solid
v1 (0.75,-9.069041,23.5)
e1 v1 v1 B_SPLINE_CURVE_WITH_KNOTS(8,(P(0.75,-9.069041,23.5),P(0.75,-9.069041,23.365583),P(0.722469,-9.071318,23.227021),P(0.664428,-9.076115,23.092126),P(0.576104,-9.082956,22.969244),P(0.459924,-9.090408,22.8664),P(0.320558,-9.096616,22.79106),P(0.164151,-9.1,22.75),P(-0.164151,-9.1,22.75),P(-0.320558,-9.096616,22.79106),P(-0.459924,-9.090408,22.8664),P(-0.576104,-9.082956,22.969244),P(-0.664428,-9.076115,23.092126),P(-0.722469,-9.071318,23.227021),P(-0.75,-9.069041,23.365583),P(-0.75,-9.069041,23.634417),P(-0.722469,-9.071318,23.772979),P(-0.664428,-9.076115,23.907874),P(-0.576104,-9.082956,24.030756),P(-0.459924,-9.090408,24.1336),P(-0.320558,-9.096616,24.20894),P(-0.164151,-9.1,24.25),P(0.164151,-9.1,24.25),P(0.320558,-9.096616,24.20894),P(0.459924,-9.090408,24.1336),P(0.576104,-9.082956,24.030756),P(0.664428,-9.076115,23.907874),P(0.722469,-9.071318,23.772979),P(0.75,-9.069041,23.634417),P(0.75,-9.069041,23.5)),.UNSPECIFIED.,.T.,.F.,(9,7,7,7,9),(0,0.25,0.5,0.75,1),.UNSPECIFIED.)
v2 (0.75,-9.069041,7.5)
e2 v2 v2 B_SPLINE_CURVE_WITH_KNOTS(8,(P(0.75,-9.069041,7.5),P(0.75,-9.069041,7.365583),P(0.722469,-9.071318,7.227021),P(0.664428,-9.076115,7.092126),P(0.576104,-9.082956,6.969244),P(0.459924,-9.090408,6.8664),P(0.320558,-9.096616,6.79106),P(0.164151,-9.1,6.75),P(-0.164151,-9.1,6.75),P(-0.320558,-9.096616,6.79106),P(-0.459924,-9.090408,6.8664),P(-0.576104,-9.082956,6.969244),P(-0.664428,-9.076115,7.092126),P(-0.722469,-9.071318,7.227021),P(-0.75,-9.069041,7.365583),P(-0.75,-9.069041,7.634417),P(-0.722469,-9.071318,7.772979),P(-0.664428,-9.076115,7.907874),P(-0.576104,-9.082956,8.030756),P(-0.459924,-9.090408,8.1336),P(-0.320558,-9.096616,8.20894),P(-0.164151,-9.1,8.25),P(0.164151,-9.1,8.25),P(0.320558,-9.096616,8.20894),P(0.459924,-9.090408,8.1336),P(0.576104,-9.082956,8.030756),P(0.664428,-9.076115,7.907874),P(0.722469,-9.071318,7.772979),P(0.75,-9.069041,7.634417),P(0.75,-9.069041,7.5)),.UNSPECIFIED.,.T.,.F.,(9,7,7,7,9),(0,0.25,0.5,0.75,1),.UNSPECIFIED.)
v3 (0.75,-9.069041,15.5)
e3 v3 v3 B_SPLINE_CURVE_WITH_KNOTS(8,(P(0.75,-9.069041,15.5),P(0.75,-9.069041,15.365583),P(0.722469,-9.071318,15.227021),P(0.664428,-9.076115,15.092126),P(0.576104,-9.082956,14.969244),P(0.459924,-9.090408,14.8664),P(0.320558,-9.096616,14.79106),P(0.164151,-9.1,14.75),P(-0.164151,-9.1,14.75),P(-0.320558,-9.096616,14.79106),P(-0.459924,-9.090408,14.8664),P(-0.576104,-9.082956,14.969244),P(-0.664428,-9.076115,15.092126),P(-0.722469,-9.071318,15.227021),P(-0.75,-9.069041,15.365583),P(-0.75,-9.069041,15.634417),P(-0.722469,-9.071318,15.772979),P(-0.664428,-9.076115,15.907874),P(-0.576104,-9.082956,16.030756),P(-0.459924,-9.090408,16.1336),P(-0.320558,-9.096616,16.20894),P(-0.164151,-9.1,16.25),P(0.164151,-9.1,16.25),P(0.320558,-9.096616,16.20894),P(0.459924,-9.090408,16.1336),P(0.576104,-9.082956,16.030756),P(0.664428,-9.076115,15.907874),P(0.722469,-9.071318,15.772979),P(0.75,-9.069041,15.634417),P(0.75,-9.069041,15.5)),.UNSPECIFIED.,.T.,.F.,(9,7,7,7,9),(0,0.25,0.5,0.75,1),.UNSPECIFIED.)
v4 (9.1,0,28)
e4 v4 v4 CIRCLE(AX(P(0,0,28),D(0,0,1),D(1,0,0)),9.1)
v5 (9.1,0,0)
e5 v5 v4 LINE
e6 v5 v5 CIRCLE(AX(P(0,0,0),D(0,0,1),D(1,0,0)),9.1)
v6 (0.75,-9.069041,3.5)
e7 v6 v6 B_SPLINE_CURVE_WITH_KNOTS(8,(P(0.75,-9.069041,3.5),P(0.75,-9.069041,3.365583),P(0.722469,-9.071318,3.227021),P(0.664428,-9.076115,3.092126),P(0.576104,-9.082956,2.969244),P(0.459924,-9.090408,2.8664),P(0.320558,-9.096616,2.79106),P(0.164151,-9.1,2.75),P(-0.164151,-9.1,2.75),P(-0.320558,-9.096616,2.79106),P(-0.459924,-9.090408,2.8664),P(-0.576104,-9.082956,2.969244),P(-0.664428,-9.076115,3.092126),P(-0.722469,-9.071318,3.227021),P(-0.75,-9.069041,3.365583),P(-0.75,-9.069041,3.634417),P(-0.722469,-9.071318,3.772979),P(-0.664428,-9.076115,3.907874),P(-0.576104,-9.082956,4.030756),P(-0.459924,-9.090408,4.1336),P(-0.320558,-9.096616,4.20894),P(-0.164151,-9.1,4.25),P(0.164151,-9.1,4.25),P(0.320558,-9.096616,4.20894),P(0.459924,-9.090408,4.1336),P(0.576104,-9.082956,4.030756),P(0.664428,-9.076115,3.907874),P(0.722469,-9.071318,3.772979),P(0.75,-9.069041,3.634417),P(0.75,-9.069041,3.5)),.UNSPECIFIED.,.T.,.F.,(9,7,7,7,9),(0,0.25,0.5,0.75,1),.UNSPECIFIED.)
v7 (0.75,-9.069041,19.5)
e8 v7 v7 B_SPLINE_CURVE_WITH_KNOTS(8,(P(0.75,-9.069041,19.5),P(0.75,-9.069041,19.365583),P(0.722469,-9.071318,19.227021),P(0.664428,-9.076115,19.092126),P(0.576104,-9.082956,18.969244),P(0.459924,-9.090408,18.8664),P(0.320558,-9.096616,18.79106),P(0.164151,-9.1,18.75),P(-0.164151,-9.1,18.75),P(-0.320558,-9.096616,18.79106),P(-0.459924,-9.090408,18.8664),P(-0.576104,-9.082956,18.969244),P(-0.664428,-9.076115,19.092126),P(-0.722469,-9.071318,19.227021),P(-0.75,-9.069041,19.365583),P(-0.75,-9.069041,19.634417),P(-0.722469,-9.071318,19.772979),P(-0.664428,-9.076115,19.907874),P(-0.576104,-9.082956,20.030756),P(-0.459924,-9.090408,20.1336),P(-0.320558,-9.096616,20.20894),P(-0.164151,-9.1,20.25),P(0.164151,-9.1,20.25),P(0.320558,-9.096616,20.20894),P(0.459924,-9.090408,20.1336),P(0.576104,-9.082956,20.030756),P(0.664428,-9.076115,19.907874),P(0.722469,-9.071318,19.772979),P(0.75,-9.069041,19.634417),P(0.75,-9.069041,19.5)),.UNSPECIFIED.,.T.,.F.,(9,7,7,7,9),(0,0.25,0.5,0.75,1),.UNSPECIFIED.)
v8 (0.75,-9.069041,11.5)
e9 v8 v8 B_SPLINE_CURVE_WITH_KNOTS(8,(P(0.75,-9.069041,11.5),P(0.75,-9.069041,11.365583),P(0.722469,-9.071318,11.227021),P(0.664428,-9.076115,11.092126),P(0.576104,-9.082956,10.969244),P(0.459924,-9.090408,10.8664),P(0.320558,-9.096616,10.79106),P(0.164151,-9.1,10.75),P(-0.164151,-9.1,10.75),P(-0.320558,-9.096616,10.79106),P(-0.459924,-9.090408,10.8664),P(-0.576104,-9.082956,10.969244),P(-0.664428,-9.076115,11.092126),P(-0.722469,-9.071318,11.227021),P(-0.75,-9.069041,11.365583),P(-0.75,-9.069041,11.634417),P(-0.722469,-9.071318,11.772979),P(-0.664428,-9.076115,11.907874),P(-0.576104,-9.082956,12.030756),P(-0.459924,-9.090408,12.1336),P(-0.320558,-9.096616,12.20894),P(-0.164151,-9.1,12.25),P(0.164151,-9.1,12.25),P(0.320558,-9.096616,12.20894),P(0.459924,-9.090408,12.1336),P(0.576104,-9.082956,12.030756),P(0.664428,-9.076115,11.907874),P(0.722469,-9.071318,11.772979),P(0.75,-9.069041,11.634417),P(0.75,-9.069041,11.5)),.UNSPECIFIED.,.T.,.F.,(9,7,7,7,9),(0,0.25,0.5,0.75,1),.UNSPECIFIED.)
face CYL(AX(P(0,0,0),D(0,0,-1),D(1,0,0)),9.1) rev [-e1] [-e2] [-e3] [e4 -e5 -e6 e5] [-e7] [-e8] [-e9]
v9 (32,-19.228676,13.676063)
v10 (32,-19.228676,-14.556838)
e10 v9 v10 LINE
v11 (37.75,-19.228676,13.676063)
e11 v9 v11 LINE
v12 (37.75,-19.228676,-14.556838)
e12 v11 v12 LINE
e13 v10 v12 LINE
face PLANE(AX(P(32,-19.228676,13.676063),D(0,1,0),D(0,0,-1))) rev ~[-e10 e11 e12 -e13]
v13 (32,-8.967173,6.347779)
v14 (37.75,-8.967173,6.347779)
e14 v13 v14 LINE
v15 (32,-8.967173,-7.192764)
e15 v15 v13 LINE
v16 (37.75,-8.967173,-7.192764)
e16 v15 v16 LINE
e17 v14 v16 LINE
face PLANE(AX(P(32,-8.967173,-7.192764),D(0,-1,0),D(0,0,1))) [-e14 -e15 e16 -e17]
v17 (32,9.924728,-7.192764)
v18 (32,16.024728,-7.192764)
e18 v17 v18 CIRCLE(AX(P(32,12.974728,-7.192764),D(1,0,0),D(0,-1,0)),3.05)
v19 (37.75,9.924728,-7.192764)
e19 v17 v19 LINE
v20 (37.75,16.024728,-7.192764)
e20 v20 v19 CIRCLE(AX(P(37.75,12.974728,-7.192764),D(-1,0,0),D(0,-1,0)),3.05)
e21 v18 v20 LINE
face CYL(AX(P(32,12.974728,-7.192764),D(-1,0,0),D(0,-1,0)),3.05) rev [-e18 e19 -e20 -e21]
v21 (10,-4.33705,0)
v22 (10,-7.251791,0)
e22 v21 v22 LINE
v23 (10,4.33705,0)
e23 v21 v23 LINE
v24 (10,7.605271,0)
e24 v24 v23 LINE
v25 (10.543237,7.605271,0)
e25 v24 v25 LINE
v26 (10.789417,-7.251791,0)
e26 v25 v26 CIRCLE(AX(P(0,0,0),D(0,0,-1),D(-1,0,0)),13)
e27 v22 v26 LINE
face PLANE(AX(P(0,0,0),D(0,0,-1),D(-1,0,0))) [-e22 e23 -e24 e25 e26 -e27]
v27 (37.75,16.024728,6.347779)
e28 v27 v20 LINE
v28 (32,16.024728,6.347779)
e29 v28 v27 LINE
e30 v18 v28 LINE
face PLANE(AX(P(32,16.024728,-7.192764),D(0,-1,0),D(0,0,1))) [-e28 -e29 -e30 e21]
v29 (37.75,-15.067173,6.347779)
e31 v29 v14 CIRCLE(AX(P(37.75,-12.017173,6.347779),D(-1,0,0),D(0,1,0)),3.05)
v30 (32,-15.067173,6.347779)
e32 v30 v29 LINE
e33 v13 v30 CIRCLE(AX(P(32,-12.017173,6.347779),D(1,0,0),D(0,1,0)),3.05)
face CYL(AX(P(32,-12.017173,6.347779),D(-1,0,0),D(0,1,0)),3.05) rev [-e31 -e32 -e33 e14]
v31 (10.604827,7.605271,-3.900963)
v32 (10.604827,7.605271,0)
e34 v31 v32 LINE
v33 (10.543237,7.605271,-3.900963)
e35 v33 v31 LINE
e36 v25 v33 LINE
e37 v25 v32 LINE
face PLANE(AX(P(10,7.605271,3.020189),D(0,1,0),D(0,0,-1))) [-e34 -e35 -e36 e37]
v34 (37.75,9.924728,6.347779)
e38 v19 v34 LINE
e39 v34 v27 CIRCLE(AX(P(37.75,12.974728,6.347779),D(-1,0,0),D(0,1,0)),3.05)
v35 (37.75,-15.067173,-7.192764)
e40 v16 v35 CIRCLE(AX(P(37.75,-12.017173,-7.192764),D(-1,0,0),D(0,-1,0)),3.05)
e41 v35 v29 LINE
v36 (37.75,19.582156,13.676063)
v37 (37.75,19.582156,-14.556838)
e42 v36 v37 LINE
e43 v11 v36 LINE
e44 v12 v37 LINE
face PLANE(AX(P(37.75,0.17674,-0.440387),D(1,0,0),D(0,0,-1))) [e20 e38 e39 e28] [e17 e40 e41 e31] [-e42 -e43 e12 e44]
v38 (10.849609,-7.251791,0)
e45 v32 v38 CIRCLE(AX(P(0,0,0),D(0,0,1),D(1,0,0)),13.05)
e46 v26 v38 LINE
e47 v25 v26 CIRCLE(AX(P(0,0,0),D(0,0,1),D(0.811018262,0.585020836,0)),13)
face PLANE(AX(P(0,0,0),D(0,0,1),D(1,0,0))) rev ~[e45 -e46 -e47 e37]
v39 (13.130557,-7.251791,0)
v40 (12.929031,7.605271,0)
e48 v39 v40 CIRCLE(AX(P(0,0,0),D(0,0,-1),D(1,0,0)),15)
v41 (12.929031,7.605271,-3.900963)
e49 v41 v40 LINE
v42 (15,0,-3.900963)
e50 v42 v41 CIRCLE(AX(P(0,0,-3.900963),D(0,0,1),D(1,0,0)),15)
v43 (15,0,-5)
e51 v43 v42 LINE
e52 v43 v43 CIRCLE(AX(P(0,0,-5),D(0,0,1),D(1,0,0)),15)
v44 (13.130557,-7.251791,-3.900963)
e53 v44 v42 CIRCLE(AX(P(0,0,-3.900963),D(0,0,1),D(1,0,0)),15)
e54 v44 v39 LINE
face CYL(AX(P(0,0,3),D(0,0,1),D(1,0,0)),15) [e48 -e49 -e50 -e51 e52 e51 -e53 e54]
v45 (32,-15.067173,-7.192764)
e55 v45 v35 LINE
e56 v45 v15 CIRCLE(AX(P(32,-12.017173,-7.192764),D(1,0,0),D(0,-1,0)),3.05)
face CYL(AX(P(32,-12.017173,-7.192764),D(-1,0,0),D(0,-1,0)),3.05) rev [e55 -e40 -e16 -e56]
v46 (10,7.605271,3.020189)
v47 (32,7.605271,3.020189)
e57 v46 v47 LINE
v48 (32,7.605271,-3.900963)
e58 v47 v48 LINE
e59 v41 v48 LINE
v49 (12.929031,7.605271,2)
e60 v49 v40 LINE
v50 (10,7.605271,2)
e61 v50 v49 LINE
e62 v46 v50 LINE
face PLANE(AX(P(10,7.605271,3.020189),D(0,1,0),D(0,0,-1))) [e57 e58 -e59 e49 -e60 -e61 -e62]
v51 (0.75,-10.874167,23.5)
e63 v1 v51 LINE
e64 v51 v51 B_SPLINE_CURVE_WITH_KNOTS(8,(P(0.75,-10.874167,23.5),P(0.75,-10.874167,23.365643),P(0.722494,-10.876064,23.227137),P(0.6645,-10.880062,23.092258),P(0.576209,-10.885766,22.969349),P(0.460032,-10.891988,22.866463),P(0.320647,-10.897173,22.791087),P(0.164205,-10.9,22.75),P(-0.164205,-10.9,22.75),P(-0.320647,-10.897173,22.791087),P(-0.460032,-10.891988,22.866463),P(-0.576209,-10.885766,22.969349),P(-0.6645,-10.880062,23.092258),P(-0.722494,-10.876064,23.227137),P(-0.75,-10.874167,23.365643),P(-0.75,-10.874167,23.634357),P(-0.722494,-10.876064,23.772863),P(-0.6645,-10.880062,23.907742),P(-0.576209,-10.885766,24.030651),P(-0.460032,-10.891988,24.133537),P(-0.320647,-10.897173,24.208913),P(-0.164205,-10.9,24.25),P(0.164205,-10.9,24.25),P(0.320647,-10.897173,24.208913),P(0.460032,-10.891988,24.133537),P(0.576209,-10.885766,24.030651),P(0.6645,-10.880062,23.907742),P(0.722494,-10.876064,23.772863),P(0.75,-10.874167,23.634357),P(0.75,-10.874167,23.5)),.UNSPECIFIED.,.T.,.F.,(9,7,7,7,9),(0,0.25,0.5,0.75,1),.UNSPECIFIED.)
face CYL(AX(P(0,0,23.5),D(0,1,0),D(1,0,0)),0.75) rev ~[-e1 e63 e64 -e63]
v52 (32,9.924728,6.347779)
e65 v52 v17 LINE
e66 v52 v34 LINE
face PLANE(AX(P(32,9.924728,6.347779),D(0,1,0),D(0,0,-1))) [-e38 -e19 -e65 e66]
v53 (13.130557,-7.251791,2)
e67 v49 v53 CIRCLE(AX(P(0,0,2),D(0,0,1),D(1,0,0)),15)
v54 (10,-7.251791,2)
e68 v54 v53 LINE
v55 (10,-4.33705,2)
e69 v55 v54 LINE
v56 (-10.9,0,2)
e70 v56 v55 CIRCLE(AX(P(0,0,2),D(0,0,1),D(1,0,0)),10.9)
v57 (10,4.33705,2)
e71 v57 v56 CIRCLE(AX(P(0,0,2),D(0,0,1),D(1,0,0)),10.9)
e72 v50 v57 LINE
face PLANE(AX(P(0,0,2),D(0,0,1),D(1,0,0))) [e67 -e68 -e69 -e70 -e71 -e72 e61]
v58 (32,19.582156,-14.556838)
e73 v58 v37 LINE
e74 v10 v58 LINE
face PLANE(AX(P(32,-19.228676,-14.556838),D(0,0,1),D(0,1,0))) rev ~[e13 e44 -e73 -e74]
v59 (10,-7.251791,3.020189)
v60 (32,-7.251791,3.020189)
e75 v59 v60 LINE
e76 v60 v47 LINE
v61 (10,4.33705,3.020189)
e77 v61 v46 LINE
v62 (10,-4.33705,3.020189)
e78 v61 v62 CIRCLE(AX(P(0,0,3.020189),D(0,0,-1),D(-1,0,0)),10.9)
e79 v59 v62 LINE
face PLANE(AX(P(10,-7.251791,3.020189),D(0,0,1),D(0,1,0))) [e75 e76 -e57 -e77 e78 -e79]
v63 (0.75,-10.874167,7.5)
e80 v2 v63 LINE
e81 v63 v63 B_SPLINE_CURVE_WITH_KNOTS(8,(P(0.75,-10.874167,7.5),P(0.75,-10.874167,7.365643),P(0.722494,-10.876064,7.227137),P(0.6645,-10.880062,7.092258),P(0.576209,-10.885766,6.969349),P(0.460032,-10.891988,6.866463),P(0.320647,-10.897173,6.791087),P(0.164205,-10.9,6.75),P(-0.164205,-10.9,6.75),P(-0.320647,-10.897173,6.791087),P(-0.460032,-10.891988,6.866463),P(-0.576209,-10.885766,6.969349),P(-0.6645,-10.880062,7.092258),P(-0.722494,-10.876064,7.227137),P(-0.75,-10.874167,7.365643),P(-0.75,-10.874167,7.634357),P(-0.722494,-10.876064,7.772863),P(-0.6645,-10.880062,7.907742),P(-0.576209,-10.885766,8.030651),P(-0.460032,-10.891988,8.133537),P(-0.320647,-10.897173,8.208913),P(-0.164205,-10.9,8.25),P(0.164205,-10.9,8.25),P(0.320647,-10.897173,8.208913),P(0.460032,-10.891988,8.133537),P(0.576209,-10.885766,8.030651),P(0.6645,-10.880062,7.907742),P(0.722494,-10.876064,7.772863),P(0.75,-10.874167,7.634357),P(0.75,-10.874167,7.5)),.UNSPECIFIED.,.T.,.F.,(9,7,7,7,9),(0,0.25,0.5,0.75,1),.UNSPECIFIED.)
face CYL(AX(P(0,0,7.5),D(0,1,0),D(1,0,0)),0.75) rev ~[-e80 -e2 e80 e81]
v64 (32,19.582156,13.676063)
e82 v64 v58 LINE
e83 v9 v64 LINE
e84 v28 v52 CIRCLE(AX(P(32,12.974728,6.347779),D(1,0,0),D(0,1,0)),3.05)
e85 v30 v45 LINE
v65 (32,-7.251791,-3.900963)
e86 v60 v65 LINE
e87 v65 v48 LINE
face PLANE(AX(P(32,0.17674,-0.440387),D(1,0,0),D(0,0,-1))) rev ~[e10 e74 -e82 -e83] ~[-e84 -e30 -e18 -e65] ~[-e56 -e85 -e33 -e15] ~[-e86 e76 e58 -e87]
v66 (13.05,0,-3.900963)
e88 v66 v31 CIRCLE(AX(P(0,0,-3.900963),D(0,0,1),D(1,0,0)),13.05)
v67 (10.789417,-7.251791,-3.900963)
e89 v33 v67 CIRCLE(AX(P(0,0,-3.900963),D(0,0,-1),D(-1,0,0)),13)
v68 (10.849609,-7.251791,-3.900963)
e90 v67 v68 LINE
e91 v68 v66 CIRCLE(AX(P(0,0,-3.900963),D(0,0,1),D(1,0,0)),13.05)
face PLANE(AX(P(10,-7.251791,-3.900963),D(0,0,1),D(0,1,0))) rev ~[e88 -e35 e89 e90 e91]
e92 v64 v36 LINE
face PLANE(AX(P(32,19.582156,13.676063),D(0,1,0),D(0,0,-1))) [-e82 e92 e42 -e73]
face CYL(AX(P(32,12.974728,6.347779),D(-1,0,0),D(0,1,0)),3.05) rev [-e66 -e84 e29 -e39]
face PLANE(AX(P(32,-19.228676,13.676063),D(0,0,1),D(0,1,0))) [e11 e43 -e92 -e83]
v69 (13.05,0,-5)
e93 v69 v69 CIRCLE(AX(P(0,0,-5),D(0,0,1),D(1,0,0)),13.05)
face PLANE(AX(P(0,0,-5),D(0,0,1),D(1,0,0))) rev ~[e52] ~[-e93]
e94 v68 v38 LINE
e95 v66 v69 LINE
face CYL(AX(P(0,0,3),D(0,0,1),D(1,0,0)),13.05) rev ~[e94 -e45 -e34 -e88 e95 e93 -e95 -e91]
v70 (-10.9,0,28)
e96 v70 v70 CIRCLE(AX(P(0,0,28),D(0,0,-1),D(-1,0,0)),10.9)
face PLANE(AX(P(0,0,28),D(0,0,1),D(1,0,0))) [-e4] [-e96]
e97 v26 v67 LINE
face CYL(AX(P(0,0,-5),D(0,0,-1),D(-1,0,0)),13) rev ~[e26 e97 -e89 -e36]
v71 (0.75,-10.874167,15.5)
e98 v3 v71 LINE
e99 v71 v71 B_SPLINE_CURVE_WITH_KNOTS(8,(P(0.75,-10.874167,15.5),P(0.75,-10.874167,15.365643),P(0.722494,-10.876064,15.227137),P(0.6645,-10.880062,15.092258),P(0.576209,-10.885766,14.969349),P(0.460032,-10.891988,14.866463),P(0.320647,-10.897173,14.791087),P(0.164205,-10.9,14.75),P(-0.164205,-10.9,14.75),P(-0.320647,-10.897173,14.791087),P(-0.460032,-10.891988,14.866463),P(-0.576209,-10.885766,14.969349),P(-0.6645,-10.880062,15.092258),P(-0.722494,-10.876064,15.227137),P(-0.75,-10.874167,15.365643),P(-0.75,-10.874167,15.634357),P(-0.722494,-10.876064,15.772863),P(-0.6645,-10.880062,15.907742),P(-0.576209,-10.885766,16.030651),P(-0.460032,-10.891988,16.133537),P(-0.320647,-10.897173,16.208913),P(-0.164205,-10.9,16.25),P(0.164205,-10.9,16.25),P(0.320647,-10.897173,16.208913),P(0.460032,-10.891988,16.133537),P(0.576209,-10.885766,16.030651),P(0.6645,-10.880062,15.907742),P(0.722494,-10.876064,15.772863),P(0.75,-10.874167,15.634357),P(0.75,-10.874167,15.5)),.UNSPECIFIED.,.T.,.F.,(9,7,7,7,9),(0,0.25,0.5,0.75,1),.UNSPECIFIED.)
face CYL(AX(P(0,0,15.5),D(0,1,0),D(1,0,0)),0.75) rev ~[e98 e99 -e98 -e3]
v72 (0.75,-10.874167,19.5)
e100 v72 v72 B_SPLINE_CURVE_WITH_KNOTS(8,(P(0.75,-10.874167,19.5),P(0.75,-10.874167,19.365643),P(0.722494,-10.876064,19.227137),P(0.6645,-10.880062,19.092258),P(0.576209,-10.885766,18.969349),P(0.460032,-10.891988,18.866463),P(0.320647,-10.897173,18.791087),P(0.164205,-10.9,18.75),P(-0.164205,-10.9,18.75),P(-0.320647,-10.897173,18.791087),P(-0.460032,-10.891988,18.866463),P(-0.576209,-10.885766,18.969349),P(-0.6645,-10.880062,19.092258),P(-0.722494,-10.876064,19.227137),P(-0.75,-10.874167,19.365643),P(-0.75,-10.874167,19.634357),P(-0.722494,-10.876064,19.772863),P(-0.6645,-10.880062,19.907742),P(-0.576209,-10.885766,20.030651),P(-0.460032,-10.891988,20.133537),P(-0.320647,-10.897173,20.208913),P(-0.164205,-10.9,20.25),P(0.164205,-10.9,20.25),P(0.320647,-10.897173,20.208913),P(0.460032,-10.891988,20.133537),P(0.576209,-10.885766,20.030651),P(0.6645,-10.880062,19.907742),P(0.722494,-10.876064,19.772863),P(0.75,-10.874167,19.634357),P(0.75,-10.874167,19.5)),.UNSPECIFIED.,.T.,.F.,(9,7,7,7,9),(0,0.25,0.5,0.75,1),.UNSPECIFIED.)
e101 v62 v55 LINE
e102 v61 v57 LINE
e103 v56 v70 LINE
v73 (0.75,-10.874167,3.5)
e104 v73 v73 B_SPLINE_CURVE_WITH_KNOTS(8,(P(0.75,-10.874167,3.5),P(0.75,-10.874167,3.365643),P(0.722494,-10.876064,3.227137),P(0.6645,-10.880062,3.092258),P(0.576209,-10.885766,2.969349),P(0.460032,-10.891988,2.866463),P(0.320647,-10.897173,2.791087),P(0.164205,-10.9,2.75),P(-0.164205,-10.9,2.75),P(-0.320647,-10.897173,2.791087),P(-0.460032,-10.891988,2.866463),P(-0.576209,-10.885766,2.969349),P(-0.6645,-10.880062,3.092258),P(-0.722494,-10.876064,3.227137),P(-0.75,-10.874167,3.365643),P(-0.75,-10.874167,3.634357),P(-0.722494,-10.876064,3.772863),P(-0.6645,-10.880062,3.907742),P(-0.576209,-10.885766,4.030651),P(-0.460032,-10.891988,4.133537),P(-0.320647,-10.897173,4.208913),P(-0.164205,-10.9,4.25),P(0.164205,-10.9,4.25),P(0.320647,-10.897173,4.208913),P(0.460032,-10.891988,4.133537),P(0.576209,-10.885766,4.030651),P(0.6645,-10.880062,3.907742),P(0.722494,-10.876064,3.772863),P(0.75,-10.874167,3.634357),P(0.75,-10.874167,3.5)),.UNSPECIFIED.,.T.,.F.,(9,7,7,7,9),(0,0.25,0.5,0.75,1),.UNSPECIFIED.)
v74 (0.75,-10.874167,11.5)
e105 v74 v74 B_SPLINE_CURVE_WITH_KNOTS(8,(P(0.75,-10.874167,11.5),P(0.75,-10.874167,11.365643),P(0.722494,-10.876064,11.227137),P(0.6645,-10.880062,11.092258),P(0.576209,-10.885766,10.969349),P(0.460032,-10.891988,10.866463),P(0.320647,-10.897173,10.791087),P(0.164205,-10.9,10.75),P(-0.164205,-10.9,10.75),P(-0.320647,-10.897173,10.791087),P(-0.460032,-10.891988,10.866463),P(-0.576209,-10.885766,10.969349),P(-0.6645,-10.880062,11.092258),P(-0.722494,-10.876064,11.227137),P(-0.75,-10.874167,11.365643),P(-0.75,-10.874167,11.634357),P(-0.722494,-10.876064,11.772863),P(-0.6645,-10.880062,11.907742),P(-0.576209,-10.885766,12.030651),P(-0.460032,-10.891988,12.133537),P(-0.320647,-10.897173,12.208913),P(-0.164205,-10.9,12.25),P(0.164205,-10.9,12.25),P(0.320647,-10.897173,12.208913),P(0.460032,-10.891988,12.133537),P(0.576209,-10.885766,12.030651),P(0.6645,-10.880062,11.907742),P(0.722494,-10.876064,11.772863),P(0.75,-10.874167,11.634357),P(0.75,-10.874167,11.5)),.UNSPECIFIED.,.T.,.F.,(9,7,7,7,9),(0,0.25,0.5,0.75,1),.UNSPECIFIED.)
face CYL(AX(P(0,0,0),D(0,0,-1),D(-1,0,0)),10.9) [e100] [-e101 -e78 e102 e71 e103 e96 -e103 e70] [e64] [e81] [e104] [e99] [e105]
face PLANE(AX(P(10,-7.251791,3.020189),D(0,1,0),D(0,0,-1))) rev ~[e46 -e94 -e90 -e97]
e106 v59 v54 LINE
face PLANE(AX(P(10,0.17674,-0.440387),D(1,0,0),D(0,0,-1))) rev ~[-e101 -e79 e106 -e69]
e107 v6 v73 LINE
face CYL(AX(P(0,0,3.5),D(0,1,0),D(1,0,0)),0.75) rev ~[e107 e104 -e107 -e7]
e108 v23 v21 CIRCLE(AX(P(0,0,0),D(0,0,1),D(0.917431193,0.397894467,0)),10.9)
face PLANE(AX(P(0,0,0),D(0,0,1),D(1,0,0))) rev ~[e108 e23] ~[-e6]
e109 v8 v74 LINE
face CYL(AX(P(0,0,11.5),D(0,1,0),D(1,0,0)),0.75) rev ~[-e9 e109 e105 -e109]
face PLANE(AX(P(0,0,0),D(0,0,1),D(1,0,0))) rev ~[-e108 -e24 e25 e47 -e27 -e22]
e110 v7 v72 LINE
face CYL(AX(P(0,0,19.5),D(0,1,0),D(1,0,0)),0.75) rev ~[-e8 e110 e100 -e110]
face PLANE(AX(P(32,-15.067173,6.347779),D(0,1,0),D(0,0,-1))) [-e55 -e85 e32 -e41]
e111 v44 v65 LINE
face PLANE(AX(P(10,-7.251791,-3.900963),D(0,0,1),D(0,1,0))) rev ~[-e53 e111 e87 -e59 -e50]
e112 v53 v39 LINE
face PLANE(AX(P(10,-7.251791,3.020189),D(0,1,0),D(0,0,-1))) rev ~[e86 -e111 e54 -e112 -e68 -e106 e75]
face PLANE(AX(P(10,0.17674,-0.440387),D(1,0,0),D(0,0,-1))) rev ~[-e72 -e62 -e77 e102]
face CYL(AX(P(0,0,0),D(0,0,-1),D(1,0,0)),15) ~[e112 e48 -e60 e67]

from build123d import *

# Parameters (mm, degrees)
SKETCH2_R                = 15
SKETCH2_R_2              = 13.05
BOSS_EXTRUDE2_DEPTH      = 16
BOSS_EXTRUDE2_DEPTH_BACK = 8
SKETCH1_R                = 15
SKETCH1_R_2              = 9.1
BOSS_EXTRUDE3_DEPTH      = 28
SKETCH4_R                = 15
SKETCH4_R_2              = 10.9
CUT_EXTRUDE2_DEPTH       = 29
SKETCH5_W                = 6.921152332
SKETCH5_H                = 14.857061979
BOSS_EXTRUDE4_DEPTH      = 22
SKETCH3_R                = 0.75
CUT_EXTRUDE1_DEPTH       = 16
SKETCH6_R                = 15
SKETCH6_R_2              = 10.9
BOSS_EXTRUDE5_DEPTH      = 2
SKETCH7_W                = 28.232901182
SKETCH7_H                = 38.810832399
BOSS_EXTRUDE6_DEPTH      = 5.75
CUT_EXTRUDE3_DEPTH       = 8
SKETCH15_R               = 13
CUT_EXTRUDE6_DEPTH       = 5


with BuildPart() as part:
    # Sketch2 → Boss-Extrude2 (new body, two sides)
    with BuildSketch(Plane.XY.offset(3)) as boss_extrude2_sk:
        Circle(SKETCH2_R)
        Circle(SKETCH2_R_2, mode=Mode.SUBTRACT)
    extrude(amount=BOSS_EXTRUDE2_DEPTH)
    extrude(boss_extrude2_sk.sketch, amount=-BOSS_EXTRUDE2_DEPTH_BACK)

    # Sketch1 → Boss-Extrude3 (add)
    with BuildSketch(Plane.XY):
        Circle(SKETCH1_R)
        Circle(SKETCH1_R_2, mode=Mode.SUBTRACT)
    extrude(amount=BOSS_EXTRUDE3_DEPTH)

    # Sketch4 → Cut-Extrude2 (cut)
    with BuildSketch(Plane(origin=(0, 0, 0), x_dir=(-1, 0, 0), z_dir=(0, 0, -1))):
        Circle(SKETCH4_R)
        Circle(SKETCH4_R_2, mode=Mode.SUBTRACT)
    extrude(amount=-CUT_EXTRUDE2_DEPTH, mode=Mode.SUBTRACT)

    # Sketch5 → Boss-Extrude4 (add)
    with BuildSketch(Plane(origin=(10, 0, 0), x_dir=(0, 0, -1), z_dir=(1, 0, 0))):
        with Locations((0.440387125, 0.176739876)):
            Rectangle(SKETCH5_W, SKETCH5_H)
    extrude(amount=BOSS_EXTRUDE4_DEPTH)

    # Sketch3 → Cut-Extrude1 (cut, through all)
    with BuildSketch(Plane(origin=(0, 0, 0), x_dir=(1, 0, 0), z_dir=(0, 1, 0))):
        with Locations((0, -3.5)):
            Circle(SKETCH3_R)
        with Locations((0, -7.5)):
            Circle(SKETCH3_R)
        with Locations((0, -11.5)):
            Circle(SKETCH3_R)
        with Locations((0, -15.5)):
            Circle(SKETCH3_R)
        with Locations((0, -19.5)):
            Circle(SKETCH3_R)
        with Locations((0, -23.5)):
            Circle(SKETCH3_R)
    extrude(amount=-CUT_EXTRUDE1_DEPTH, mode=Mode.SUBTRACT)

    # Sketch6 → Boss-Extrude5 (add)
    with BuildSketch(Plane.XY):
        Circle(SKETCH6_R)
        Circle(SKETCH6_R_2, mode=Mode.SUBTRACT)
    extrude(amount=BOSS_EXTRUDE5_DEPTH)

    # Sketch7 → Boss-Extrude6 (add)
    with BuildSketch(Plane(origin=(32, 0, 0), x_dir=(0, 0, -1), z_dir=(1, 0, 0))):
        with Locations((0.440387125, 0.176739875)):
            Rectangle(SKETCH7_W, SKETCH7_H)
    extrude(amount=BOSS_EXTRUDE6_DEPTH)

    # Sketch9 → Cut-Extrude3 (cut)
    with BuildSketch(Plane.ZY.offset(-32)):
        with BuildLine():
            Line((-7.192763814, 16.024728338), (6.347778577, 16.024728338))
            ThreePointArc((6.347778577, 16.024728338), (9.397778577, 12.974728338), (6.347778577, 9.924728338))
            Line((6.347778577, 9.924728338), (-7.192763814, 9.924728338))
            ThreePointArc((-7.192763814, 9.924728338), (-10.242763814, 12.974728338), (-7.192763814, 16.024728338))
        make_face()
        with BuildLine():
            Line((-7.192763814, -8.96717342), (6.347778577, -8.96717342))
            ThreePointArc((6.347778577, -8.96717342), (9.397778577, -12.01717342), (6.347778577, -15.06717342))
            Line((6.347778577, -15.06717342), (-7.192763814, -15.06717342))
            ThreePointArc((-7.192763814, -15.06717342), (-10.242763814, -12.01717342), (-7.192763814, -8.96717342))
        make_face()
    extrude(amount=-CUT_EXTRUDE3_DEPTH, mode=Mode.SUBTRACT)

    # Sketch15 → Cut-Extrude6 (cut)
    with BuildSketch(Plane(origin=(0, 0, -5), x_dir=(-1, 0, 0), z_dir=(0, 0, -1))):
        Circle(SKETCH15_R)
    extrude(amount=-CUT_EXTRUDE6_DEPTH, mode=Mode.SUBTRACT)


solid = part.part
